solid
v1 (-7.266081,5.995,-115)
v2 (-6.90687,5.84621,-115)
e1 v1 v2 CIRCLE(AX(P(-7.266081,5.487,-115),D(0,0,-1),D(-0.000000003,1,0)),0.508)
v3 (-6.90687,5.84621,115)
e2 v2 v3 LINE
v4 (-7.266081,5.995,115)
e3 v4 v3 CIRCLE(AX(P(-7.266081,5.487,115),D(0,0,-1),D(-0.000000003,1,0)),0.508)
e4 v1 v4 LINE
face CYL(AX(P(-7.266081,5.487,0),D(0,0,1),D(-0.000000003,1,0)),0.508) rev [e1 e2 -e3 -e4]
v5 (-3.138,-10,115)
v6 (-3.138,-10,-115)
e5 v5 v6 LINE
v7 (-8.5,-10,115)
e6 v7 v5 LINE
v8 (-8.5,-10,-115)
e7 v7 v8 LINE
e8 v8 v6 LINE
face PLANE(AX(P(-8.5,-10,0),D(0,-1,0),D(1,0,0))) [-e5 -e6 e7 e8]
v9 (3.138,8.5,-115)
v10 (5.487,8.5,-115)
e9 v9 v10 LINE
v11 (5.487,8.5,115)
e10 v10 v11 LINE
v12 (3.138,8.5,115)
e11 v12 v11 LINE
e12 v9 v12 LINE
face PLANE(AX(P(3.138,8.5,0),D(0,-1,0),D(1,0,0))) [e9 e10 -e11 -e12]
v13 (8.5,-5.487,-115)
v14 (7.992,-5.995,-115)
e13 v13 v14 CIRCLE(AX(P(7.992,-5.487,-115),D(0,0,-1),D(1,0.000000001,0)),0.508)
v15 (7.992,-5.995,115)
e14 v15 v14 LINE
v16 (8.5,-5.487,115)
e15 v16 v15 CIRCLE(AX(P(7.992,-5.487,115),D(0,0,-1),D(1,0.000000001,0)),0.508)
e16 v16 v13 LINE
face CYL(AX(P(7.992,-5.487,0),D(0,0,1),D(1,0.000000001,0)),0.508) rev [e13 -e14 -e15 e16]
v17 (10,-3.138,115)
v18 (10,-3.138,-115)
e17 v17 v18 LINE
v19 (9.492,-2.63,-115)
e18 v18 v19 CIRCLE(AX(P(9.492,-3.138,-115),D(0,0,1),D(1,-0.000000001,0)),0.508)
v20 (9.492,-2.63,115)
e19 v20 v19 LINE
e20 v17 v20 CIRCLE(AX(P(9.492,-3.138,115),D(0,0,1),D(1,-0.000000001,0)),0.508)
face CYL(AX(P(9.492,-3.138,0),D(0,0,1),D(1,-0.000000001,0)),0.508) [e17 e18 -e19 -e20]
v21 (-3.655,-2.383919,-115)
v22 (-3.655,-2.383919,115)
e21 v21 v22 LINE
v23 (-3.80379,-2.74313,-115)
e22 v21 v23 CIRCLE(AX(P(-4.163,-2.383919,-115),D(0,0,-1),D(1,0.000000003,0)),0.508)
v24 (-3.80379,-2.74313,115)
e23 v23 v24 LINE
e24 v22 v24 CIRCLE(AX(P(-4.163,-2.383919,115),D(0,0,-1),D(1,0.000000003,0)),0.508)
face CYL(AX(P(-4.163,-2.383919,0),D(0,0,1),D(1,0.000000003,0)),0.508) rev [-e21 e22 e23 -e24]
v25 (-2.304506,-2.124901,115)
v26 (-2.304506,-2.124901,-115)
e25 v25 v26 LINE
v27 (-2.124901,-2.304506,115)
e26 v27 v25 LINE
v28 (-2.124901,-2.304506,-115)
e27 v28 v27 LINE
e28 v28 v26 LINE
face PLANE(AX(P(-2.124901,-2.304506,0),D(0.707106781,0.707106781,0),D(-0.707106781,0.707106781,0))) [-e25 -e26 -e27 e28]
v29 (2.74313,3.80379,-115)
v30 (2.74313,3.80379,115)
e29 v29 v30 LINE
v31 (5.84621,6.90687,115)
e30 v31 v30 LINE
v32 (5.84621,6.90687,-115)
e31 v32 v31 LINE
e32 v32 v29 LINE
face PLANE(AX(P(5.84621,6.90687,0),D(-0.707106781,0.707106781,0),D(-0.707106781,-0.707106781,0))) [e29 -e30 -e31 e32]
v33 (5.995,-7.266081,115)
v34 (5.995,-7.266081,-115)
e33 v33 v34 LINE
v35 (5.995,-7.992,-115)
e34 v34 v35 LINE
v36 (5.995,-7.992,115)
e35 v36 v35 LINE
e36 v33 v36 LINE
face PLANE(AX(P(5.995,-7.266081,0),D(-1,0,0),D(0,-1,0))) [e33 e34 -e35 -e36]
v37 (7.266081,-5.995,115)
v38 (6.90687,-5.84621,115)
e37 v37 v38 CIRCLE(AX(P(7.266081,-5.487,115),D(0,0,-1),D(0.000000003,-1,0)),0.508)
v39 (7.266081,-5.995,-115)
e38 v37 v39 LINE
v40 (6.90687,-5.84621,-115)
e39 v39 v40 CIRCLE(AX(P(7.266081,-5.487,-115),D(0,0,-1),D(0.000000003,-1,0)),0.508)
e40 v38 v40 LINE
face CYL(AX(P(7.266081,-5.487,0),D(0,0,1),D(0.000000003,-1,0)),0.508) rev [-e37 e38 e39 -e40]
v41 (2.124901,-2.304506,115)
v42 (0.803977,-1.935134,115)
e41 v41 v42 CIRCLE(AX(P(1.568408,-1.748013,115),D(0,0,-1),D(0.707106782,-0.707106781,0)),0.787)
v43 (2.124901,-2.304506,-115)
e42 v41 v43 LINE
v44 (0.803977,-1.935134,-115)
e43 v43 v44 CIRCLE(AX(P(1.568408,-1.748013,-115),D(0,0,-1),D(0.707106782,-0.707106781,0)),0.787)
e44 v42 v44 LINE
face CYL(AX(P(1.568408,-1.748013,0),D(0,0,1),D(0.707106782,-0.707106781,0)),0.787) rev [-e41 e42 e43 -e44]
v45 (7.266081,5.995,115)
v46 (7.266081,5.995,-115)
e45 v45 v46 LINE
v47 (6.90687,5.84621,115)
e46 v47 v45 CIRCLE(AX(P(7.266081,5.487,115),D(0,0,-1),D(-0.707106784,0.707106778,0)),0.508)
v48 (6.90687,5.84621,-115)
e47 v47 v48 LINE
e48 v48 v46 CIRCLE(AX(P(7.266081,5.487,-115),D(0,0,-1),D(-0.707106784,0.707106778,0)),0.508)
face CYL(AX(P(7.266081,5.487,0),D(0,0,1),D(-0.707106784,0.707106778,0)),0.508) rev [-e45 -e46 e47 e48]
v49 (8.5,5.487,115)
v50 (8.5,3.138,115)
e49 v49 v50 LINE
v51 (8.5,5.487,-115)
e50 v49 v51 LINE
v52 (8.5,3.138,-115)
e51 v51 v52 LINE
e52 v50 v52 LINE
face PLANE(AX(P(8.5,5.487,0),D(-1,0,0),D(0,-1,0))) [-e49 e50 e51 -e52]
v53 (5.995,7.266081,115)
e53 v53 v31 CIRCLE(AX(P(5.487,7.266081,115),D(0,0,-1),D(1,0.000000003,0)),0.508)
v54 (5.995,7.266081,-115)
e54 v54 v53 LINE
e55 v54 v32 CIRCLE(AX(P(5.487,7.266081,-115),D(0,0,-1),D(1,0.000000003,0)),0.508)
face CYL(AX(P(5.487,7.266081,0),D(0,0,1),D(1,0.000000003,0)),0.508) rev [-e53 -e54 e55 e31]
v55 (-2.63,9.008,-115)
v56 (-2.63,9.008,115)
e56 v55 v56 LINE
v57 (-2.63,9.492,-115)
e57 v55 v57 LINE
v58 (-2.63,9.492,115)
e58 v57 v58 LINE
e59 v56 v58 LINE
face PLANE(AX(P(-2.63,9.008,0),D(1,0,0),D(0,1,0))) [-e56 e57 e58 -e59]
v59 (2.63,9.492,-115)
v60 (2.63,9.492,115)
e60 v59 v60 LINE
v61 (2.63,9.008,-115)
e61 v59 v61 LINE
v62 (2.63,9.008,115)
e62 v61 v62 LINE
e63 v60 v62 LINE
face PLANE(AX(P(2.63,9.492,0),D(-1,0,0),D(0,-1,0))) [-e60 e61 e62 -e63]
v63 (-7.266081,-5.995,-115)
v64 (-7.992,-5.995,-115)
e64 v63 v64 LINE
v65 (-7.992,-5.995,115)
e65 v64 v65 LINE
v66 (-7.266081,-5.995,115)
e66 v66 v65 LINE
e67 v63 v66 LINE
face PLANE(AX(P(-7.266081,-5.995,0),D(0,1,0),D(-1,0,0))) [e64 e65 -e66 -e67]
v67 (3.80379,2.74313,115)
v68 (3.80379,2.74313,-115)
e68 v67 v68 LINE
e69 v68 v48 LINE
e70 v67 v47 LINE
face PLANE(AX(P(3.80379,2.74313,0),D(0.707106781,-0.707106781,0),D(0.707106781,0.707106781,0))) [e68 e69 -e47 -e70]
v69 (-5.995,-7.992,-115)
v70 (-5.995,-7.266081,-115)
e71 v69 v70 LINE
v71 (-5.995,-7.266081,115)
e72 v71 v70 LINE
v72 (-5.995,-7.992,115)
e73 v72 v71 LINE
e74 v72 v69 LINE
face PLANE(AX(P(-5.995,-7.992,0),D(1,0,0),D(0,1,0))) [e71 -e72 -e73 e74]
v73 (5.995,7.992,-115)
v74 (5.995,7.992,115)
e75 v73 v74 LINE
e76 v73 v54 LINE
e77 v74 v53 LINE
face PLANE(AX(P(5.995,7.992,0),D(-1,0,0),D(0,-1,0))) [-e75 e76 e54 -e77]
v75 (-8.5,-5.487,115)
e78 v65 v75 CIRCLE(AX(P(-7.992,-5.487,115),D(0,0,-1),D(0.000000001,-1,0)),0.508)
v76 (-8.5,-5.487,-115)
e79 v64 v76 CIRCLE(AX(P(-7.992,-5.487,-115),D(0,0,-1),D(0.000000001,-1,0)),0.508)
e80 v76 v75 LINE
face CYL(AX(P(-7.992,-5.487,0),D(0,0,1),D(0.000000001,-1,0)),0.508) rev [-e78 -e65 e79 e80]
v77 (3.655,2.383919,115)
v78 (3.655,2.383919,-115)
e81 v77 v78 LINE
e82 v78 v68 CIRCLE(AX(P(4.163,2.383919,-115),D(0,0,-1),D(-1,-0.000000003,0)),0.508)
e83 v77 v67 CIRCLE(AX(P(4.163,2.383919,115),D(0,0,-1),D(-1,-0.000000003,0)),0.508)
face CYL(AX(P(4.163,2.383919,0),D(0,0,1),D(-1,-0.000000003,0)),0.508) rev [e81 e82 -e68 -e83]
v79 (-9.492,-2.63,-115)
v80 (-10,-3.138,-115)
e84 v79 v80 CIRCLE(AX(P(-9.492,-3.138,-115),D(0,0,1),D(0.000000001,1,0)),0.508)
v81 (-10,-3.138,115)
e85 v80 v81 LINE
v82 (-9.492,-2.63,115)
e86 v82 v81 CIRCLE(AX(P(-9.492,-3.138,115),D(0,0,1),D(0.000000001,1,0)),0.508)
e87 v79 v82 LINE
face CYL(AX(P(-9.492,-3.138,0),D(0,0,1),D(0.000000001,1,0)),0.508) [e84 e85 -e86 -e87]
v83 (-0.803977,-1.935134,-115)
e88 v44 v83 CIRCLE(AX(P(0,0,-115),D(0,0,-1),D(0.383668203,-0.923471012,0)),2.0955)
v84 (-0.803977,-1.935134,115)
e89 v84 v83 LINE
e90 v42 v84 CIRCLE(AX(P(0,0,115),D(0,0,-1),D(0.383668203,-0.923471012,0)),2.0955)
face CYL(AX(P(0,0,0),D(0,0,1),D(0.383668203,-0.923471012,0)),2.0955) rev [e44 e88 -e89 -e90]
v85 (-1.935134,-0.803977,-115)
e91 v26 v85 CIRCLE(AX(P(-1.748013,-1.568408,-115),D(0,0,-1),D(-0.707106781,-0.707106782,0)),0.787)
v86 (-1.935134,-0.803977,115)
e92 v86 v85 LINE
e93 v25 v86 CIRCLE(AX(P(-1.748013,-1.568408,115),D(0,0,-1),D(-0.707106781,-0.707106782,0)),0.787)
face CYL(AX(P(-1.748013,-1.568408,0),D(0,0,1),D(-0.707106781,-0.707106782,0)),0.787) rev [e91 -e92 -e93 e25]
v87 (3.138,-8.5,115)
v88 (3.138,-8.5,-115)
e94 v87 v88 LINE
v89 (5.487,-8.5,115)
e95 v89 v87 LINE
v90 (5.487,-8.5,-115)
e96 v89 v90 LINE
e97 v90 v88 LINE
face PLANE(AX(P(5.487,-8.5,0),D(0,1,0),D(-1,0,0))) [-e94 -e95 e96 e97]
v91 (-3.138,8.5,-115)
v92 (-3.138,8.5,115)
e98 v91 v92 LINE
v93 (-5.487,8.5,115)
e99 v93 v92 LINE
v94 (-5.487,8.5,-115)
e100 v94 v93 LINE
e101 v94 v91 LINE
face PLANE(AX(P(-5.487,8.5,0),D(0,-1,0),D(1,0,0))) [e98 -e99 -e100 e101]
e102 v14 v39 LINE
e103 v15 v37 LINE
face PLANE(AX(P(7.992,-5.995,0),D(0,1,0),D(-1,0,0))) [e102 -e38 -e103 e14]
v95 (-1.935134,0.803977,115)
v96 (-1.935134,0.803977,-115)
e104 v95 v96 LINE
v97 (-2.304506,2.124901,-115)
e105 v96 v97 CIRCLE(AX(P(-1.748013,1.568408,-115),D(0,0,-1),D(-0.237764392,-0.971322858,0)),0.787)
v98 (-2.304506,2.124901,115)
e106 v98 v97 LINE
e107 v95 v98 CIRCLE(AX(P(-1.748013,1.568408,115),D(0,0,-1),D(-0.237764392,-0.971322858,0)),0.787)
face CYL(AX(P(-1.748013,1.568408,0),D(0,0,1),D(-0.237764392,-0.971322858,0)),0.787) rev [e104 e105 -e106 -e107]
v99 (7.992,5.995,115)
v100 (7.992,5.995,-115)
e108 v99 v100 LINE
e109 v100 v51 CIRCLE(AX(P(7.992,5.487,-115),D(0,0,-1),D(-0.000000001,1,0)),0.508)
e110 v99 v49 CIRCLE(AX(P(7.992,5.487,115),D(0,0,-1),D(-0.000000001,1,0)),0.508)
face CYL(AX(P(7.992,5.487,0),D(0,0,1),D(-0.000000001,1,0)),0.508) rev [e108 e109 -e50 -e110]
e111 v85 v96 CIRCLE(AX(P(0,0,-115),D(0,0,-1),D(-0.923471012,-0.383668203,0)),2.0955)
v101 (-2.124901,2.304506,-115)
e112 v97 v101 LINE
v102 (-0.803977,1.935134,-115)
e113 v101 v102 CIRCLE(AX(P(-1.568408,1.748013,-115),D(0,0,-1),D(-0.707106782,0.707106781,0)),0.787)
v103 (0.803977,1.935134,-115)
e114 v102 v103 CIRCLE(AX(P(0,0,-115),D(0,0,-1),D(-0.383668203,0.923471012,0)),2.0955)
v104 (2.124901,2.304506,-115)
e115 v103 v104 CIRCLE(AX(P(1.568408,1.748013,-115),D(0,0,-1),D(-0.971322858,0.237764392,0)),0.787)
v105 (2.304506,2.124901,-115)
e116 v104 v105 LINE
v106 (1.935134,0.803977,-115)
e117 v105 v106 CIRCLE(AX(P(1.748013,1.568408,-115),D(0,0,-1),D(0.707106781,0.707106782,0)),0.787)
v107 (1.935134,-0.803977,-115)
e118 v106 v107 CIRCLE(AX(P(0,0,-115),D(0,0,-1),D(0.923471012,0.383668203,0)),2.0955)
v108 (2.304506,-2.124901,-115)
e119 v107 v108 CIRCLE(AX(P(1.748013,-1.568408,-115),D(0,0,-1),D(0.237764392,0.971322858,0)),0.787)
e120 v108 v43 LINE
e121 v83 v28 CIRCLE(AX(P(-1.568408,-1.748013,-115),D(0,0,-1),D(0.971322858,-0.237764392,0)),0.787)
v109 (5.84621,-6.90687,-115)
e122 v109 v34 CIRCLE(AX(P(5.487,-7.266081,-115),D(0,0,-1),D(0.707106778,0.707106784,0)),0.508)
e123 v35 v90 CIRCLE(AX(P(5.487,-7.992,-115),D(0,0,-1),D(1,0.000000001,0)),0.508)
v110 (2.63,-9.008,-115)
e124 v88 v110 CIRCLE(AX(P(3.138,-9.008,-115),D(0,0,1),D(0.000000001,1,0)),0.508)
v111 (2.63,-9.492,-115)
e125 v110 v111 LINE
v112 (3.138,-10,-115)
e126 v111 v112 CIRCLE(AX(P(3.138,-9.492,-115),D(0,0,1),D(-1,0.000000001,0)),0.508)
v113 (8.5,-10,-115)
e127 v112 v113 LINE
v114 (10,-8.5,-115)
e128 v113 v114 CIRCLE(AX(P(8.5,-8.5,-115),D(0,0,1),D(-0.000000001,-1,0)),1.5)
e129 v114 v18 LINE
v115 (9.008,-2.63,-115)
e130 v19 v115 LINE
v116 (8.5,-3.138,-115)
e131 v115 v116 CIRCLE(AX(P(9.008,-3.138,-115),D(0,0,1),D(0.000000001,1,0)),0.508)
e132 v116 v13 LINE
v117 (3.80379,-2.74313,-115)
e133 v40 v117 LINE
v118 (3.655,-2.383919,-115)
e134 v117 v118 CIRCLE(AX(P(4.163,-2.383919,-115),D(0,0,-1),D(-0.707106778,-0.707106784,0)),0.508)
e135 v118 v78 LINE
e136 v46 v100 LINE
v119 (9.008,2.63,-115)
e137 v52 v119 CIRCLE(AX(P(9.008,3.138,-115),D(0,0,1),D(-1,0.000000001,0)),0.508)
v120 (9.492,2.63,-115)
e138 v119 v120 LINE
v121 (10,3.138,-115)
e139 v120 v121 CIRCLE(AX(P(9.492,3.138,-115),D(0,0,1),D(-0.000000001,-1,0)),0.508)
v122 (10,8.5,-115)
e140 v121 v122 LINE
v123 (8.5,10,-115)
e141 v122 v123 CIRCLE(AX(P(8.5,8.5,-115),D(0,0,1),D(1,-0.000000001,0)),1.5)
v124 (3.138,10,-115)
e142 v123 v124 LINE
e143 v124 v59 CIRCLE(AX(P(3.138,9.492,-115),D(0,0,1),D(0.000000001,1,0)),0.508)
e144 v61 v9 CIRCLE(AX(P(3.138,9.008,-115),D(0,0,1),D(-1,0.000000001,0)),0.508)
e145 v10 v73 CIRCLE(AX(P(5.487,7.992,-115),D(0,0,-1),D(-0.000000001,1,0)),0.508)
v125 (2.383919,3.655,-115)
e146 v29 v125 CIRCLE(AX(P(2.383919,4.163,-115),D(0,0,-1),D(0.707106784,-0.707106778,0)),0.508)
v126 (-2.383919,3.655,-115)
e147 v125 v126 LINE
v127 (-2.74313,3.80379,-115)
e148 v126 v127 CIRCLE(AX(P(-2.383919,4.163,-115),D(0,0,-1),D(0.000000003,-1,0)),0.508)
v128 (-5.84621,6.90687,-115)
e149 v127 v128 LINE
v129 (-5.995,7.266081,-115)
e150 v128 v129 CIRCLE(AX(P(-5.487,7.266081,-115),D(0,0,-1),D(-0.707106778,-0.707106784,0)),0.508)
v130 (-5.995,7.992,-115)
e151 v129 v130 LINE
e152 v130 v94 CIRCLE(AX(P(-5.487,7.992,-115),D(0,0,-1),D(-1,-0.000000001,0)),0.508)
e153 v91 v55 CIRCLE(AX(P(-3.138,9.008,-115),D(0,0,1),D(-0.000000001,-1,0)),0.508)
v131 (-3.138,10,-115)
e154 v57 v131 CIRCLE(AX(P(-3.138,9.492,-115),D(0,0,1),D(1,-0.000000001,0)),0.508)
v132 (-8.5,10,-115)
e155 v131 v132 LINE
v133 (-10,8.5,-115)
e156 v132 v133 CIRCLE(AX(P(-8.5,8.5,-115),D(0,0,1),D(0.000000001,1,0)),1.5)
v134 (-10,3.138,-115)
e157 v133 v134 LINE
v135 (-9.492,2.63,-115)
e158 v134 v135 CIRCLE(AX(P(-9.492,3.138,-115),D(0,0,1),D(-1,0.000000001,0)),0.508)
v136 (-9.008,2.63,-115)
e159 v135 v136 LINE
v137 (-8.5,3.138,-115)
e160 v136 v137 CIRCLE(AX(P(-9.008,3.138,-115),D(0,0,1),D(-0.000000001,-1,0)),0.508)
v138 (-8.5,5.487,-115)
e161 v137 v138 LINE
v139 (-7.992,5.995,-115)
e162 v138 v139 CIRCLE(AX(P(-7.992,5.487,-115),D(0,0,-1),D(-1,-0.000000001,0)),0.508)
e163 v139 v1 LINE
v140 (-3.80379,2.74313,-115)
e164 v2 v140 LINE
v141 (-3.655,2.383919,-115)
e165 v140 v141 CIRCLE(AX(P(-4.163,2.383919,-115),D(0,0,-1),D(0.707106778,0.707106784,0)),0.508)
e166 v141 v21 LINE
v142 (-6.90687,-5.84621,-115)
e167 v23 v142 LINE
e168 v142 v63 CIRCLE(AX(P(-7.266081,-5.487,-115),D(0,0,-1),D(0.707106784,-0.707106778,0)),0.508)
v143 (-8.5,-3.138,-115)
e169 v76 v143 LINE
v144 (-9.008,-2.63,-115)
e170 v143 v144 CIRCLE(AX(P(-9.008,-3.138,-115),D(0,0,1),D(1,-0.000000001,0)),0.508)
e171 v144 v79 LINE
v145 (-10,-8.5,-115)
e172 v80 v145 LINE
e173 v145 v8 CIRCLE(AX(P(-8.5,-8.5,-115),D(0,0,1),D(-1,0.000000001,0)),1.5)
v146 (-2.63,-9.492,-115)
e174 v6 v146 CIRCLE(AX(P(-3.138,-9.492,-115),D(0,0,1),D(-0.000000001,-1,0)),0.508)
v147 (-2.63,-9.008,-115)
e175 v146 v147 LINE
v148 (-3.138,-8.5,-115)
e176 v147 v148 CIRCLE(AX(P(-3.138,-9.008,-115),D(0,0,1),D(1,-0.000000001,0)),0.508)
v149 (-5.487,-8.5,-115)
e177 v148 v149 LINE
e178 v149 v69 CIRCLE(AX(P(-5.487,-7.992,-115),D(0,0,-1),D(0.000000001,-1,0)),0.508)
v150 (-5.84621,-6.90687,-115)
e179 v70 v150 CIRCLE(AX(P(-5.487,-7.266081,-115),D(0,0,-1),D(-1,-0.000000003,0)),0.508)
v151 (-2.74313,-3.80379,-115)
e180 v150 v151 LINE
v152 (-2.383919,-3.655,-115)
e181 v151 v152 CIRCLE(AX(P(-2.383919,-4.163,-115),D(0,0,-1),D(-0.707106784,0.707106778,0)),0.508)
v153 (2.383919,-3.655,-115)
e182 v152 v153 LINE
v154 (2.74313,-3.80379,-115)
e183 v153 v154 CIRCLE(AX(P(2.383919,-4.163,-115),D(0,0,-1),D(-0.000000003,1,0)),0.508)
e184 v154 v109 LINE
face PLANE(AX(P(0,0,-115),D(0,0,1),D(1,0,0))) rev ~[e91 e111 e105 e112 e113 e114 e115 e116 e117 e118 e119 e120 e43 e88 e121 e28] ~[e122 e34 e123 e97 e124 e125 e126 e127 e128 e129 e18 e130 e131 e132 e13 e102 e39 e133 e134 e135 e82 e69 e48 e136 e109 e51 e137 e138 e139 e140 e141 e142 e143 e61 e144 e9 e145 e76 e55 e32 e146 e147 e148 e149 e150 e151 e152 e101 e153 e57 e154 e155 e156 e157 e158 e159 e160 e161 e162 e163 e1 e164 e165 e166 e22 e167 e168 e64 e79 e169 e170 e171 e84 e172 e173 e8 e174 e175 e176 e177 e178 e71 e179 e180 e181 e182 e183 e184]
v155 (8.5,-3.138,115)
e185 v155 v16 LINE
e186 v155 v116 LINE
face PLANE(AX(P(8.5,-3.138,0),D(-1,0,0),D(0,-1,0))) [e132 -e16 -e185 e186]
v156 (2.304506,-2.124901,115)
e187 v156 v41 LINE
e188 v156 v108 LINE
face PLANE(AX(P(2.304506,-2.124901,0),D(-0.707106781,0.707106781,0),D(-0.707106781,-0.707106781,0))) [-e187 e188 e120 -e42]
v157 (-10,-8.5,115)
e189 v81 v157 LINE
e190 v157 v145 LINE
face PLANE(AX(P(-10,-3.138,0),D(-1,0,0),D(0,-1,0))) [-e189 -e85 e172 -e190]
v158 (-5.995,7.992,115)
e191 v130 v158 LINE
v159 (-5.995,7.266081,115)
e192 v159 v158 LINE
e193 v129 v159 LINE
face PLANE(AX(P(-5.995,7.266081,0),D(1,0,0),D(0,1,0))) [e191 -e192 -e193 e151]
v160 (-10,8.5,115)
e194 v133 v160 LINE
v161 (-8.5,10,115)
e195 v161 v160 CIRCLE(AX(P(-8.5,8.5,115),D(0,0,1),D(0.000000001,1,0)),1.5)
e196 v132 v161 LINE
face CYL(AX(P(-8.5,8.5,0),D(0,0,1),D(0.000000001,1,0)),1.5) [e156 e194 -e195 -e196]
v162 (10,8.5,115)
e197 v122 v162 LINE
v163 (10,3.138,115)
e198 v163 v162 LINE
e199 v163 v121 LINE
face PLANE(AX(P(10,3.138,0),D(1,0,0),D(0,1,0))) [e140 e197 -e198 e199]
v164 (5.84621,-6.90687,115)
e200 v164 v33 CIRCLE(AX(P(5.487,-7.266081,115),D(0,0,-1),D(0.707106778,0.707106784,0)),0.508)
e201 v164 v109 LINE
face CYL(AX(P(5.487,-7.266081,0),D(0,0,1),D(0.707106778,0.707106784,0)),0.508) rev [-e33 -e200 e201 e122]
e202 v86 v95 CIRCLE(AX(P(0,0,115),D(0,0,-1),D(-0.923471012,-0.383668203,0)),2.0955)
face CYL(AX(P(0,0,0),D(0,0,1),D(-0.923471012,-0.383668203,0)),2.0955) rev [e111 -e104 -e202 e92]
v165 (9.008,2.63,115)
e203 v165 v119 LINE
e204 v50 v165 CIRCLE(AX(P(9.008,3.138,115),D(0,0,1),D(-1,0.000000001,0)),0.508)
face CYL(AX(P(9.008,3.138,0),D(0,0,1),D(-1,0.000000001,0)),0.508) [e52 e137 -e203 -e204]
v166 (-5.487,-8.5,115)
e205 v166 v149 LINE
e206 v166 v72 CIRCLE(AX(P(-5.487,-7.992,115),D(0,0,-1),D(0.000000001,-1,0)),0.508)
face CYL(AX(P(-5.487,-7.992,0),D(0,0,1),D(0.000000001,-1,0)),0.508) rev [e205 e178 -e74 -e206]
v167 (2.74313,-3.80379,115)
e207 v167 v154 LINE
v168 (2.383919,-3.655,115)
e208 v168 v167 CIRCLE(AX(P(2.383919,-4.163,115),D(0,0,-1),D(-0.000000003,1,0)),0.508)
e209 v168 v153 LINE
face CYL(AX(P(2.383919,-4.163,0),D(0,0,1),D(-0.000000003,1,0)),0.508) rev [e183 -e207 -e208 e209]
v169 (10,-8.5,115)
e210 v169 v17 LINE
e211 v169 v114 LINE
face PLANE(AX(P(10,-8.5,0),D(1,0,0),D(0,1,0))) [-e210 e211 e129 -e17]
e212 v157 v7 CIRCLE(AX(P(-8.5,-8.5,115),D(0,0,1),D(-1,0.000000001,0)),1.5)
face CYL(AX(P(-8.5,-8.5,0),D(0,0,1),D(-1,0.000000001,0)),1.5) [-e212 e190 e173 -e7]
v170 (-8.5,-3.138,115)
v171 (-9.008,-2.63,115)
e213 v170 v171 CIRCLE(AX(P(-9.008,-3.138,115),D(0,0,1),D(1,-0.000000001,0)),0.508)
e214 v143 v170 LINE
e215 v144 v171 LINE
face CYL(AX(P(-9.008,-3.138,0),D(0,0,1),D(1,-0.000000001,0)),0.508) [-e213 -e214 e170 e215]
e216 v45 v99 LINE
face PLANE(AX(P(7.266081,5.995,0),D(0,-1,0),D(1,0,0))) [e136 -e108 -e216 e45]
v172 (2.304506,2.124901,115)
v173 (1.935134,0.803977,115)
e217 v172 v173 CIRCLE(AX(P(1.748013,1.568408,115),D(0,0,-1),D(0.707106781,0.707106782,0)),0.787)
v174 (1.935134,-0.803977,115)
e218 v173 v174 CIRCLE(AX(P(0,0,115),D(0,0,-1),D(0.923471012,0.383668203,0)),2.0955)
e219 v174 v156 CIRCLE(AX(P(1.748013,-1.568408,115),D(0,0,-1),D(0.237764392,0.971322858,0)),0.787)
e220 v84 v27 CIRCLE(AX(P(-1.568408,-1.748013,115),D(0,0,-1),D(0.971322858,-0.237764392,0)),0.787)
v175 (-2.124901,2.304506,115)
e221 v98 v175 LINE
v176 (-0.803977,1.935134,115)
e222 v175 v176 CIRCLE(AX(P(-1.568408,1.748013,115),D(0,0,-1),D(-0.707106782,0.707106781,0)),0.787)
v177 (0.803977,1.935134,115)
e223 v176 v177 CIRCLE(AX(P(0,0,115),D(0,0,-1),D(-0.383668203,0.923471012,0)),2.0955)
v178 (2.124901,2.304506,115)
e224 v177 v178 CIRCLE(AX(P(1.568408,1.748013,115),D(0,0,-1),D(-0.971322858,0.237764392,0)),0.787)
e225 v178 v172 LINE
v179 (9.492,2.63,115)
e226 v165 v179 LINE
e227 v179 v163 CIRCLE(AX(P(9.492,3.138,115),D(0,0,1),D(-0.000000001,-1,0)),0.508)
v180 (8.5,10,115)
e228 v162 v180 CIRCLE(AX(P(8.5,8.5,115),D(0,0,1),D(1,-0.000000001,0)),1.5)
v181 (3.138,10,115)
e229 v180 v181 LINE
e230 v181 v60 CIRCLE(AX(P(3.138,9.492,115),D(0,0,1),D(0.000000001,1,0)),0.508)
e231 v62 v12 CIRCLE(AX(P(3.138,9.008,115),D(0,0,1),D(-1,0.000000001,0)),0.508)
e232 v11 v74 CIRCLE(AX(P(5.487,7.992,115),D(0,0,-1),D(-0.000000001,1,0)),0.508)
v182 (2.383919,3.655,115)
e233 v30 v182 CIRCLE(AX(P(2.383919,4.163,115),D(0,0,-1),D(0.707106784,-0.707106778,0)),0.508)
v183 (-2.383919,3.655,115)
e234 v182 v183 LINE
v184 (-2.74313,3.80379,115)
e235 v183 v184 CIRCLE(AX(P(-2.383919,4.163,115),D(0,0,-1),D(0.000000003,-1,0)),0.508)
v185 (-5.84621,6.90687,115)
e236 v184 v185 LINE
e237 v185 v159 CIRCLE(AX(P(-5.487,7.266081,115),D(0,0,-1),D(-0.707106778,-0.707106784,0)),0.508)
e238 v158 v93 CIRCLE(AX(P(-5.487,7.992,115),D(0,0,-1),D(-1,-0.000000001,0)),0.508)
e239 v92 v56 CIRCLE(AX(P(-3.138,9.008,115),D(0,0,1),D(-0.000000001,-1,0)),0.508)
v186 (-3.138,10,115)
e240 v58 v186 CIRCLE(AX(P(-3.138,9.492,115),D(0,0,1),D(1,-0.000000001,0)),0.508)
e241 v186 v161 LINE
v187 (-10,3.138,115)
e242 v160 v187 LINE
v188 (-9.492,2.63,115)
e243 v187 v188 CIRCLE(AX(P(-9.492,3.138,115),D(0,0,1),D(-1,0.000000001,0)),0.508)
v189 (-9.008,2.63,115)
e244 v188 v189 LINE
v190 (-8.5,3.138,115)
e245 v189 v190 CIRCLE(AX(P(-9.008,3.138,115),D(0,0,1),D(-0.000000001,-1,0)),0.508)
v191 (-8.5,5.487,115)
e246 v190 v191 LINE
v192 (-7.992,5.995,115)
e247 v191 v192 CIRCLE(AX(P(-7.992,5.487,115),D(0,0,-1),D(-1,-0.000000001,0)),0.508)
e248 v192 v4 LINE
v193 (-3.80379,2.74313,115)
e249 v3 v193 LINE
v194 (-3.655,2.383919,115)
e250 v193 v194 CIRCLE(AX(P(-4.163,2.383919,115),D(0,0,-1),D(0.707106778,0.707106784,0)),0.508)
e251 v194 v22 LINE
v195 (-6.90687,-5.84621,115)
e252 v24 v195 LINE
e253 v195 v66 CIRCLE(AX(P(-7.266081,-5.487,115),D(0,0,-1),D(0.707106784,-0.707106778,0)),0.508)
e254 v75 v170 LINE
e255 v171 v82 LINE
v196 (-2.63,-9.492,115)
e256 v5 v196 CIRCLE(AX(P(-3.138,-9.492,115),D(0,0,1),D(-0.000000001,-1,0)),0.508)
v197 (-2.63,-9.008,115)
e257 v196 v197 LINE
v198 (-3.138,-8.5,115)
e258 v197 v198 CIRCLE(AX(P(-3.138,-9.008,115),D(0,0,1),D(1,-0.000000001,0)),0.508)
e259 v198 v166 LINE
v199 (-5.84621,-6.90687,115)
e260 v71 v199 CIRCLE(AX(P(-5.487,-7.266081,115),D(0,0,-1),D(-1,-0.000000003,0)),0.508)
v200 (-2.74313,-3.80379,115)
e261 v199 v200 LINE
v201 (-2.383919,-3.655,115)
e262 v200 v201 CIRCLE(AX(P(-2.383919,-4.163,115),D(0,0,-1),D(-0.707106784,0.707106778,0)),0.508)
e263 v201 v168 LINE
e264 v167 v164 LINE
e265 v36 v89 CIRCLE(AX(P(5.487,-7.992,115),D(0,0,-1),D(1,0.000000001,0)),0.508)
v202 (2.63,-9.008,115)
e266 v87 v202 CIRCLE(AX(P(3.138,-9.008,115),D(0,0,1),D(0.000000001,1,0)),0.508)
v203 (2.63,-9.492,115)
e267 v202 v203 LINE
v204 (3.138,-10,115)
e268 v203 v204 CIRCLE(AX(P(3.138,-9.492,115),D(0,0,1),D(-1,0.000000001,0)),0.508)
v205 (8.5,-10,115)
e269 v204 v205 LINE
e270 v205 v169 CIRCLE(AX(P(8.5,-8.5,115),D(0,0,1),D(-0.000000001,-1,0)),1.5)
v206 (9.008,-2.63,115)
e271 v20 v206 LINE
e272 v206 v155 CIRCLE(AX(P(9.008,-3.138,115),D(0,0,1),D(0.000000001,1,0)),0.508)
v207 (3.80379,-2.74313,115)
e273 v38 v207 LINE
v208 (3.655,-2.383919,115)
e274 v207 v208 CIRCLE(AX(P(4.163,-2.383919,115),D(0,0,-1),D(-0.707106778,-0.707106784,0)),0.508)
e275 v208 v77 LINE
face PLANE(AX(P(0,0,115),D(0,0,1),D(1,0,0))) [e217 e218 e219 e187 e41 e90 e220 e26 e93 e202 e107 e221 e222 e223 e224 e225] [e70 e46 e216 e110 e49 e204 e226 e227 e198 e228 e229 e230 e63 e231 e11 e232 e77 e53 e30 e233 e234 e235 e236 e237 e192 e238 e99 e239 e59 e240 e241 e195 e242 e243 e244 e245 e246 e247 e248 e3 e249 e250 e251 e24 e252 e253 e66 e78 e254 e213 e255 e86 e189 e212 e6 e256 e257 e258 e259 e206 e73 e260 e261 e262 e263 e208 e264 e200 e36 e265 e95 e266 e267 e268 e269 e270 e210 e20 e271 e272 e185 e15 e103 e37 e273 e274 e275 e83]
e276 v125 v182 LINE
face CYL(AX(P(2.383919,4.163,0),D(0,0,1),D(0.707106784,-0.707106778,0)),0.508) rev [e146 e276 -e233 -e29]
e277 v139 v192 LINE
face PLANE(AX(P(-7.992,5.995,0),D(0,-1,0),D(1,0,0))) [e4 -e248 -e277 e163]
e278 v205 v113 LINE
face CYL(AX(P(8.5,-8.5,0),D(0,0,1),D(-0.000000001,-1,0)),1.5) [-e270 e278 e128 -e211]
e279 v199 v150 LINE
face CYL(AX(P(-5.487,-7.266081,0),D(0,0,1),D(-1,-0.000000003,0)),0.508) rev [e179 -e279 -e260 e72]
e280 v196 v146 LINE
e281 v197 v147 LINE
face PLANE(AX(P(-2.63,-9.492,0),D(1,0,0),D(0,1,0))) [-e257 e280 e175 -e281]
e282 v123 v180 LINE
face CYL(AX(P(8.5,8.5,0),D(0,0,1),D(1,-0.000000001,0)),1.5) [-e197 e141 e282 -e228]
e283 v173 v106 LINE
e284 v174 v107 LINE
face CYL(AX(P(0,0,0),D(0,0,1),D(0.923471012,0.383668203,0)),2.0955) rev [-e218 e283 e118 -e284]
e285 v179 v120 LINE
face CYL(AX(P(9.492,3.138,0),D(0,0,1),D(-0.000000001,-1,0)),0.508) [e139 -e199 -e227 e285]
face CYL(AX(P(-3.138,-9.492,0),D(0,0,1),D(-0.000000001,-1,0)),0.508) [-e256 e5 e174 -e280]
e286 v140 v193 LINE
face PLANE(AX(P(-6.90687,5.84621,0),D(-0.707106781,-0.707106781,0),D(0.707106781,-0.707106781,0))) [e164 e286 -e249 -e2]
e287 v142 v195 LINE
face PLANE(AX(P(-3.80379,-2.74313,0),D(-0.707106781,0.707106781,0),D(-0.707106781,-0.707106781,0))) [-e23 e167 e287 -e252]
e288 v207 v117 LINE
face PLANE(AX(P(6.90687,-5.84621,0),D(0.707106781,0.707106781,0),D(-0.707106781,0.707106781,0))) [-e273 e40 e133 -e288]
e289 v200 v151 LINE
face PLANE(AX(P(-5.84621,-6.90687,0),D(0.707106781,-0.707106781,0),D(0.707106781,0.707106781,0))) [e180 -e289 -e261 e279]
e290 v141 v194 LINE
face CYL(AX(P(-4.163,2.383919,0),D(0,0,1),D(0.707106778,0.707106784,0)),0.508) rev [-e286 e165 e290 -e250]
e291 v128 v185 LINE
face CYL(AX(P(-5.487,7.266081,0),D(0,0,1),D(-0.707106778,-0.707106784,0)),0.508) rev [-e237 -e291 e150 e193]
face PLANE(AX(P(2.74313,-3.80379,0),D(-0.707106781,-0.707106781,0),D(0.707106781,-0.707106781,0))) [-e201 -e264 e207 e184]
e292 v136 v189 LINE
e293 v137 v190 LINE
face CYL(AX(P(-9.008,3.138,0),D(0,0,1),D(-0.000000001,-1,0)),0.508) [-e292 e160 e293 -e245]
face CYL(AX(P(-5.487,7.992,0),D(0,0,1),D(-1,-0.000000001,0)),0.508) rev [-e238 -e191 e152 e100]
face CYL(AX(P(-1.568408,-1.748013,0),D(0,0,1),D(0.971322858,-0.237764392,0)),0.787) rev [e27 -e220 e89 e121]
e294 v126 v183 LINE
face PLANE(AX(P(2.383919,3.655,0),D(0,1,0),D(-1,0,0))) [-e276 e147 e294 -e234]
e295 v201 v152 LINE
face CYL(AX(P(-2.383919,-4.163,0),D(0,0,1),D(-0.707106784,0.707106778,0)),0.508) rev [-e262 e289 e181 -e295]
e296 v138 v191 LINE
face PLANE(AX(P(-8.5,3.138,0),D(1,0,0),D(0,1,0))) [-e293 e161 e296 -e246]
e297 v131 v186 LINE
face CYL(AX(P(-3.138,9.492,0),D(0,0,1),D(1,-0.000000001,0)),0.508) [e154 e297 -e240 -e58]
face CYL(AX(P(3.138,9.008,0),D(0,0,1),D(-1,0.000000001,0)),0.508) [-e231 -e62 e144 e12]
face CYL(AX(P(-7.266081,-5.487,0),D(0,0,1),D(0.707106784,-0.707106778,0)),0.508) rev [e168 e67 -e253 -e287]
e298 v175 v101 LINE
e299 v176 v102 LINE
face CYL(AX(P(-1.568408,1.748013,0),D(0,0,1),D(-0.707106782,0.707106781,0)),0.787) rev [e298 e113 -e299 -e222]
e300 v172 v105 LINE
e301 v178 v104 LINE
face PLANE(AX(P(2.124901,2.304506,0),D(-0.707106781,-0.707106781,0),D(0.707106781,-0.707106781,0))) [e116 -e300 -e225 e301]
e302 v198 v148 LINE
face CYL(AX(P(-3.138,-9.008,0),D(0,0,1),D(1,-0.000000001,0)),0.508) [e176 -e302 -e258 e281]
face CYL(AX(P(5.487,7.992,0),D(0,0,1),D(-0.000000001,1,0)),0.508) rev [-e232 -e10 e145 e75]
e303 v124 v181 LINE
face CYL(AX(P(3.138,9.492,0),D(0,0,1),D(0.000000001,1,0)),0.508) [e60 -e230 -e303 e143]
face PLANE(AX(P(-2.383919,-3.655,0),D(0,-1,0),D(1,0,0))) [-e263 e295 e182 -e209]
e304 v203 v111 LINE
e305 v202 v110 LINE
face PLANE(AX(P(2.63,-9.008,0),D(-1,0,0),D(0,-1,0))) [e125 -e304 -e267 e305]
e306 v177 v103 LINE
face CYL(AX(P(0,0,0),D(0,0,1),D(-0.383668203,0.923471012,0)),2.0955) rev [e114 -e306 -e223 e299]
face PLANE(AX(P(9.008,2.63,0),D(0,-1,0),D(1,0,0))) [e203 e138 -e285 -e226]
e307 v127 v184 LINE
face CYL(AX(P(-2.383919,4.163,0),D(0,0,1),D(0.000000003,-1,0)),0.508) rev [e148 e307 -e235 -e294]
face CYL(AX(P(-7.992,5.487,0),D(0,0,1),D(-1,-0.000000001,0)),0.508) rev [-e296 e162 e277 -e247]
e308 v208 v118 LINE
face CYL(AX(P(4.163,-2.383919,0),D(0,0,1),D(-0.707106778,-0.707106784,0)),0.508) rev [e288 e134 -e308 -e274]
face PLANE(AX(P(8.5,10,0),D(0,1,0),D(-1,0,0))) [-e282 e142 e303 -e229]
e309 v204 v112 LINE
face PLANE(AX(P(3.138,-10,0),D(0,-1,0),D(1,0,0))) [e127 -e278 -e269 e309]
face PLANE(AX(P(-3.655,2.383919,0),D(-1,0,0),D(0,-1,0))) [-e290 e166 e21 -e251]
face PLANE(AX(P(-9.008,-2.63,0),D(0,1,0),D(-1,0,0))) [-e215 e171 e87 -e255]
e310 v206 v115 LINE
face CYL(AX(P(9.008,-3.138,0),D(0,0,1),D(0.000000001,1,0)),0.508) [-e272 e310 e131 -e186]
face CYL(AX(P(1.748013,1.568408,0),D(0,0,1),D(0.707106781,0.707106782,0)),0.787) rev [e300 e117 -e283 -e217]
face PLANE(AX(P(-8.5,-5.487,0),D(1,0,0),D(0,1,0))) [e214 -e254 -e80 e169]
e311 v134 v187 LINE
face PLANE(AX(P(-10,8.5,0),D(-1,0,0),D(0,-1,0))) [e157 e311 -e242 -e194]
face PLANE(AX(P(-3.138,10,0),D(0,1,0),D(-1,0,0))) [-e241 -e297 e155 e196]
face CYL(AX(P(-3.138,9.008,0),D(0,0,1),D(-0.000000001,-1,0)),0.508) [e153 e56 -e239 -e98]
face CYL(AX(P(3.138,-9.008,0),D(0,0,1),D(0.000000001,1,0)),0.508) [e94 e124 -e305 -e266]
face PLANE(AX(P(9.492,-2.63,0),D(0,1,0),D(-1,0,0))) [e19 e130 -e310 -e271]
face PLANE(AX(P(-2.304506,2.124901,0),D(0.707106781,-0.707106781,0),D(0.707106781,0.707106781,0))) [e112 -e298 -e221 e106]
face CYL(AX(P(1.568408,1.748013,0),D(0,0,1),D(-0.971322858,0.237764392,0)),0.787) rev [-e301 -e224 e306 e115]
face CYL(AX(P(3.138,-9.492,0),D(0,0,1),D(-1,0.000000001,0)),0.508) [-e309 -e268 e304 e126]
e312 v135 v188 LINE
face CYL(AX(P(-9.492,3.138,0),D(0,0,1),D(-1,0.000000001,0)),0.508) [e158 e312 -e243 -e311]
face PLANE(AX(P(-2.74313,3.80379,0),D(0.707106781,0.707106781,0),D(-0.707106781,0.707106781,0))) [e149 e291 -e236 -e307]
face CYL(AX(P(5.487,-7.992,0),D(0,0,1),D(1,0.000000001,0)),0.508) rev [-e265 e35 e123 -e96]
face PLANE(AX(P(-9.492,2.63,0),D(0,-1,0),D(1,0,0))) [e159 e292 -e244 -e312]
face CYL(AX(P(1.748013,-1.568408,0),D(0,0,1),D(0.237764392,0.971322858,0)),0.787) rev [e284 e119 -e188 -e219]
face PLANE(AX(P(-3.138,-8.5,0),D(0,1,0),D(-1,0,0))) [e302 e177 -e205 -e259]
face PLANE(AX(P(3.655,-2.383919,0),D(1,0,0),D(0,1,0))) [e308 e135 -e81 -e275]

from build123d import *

# Parameters (mm, degrees)
BOSS_EXTRUDE1_DEPTH = 115


with BuildPart() as part:
    # Sketch1 → Boss-Extrude1 (new, symmetric)
    with BuildSketch(Plane.XY):
        with BuildLine():
            Line((10, 3.138), (10, 8.5))
            ThreePointArc((10, 8.5), (9.560660172, 9.560660172), (8.5, 10))
            Line((8.5, 10), (3.138, 10))
            ThreePointArc((3.138, 10), (2.778789755, 9.851210245), (2.63, 9.492))
            Line((2.63, 9.492), (2.63, 9.008))
            ThreePointArc((2.63, 9.008), (2.778789755, 8.648789755), (3.138, 8.5))
            Line((3.138, 8.5), (5.487, 8.5))
            ThreePointArc((5.487, 8.5), (5.846210245, 8.351210245), (5.995, 7.992))
            Line((5.995, 7.992), (5.995, 7.266080661))
            ThreePointArc((5.995, 7.266080661), (5.956330803, 7.071677478), (5.846210245, 6.906870417))
            Line((5.846210245, 6.906870417), (2.743129583, 3.803789755))
            ThreePointArc((2.743129583, 3.803789755), (2.578322522, 3.693669197), (2.383919339, 3.655))
            Line((2.383919339, 3.655), (-2.383919339, 3.655))
            ThreePointArc((-2.383919339, 3.655), (-2.578322522, 3.693669197), (-2.743129583, 3.803789755))
            Line((-2.743129583, 3.803789755), (-5.846210245, 6.906870417))
            ThreePointArc((-5.846210245, 6.906870417), (-5.956330803, 7.071677478), (-5.995, 7.266080661))
            Line((-5.995, 7.266080661), (-5.995, 7.992))
            ThreePointArc((-5.995, 7.992), (-5.846210245, 8.351210245), (-5.487, 8.5))
            Line((-5.487, 8.5), (-3.138, 8.5))
            ThreePointArc((-3.138, 8.5), (-2.778789755, 8.648789755), (-2.63, 9.008))
            Line((-2.63, 9.008), (-2.63, 9.492))
            ThreePointArc((-2.63, 9.492), (-2.778789755, 9.851210245), (-3.138, 10))
            Line((-3.138, 10), (-8.5, 10))
            ThreePointArc((-8.5, 10), (-9.560660172, 9.560660172), (-10, 8.5))
            Line((-10, 8.5), (-10, 3.138))
            ThreePointArc((-10, 3.138), (-9.851210245, 2.778789755), (-9.492, 2.63))
            Line((-9.492, 2.63), (-9.008, 2.63))
            ThreePointArc((-9.008, 2.63), (-8.648789755, 2.778789755), (-8.5, 3.138))
            Line((-8.5, 3.138), (-8.5, 5.487))
            ThreePointArc((-8.5, 5.487), (-8.351210245, 5.846210245), (-7.992, 5.995))
            Line((-7.992, 5.995), (-7.266080661, 5.995))
            ThreePointArc((-7.266080661, 5.995), (-7.071677478, 5.956330803), (-6.906870417, 5.846210245))
            Line((-6.906870417, 5.846210245), (-3.803789755, 2.743129583))
            ThreePointArc((-3.803789755, 2.743129583), (-3.693669197, 2.578322522), (-3.655, 2.383919339))
            Line((-3.655, 2.383919339), (-3.655, -2.383919339))
            ThreePointArc((-3.655, -2.383919339), (-3.693669197, -2.578322522), (-3.803789755, -2.743129583))
            Line((-3.803789755, -2.743129583), (-6.906870417, -5.846210245))
            ThreePointArc((-6.906870417, -5.846210245), (-7.071677478, -5.956330803), (-7.266080661, -5.995))
            Line((-7.266080661, -5.995), (-7.992, -5.995))
            ThreePointArc((-7.992, -5.995), (-8.351210245, -5.846210245), (-8.5, -5.487))
            Line((-8.5, -5.487), (-8.5, -3.138))
            ThreePointArc((-8.5, -3.138), (-8.648789755, -2.778789755), (-9.008, -2.63))
            Line((-9.008, -2.63), (-9.492, -2.63))
            ThreePointArc((-9.492, -2.63), (-9.851210245, -2.778789755), (-10, -3.138))
            Line((-10, -3.138), (-10, -8.5))
            ThreePointArc((-10, -8.5), (-9.560660172, -9.560660172), (-8.5, -10))
            Line((-8.5, -10), (-3.138, -10))
            ThreePointArc((-3.138, -10), (-2.778789755, -9.851210245), (-2.63, -9.492))
            Line((-2.63, -9.492), (-2.63, -9.008))
            ThreePointArc((-2.63, -9.008), (-2.778789755, -8.648789755), (-3.138, -8.5))
            Line((-3.138, -8.5), (-5.487, -8.5))
            ThreePointArc((-5.487, -8.5), (-5.846210245, -8.351210245), (-5.995, -7.992))
            Line((-5.995, -7.992), (-5.995, -7.266080661))
            ThreePointArc((-5.995, -7.266080661), (-5.956330803, -7.071677478), (-5.846210245, -6.906870417))
            Line((-5.846210245, -6.906870417), (-2.743129583, -3.803789755))
            ThreePointArc((-2.743129583, -3.803789755), (-2.578322522, -3.693669197), (-2.383919339, -3.655))
            Line((-2.383919339, -3.655), (2.383919339, -3.655))
            ThreePointArc((2.383919339, -3.655), (2.578322522, -3.693669197), (2.743129583, -3.803789755))
            Line((2.743129583, -3.803789755), (5.846210245, -6.906870417))
            ThreePointArc((5.846210245, -6.906870417), (5.956330803, -7.071677478), (5.995, -7.266080661))
            Line((5.995, -7.266080661), (5.995, -7.992))
            ThreePointArc((5.995, -7.992), (5.846210245, -8.351210245), (5.487, -8.5))
            Line((5.487, -8.5), (3.138, -8.5))
            ThreePointArc((3.138, -8.5), (2.778789755, -8.648789755), (2.63, -9.008))
            Line((2.63, -9.008), (2.63, -9.492))
            ThreePointArc((2.63, -9.492), (2.778789755, -9.851210245), (3.138, -10))
            Line((3.138, -10), (8.5, -10))
            ThreePointArc((8.5, -10), (9.560660172, -9.560660172), (10, -8.5))
            Line((10, -8.5), (10, -3.138))
            ThreePointArc((10, -3.138), (9.851210245, -2.778789755), (9.492, -2.63))
            Line((9.492, -2.63), (9.008, -2.63))
            ThreePointArc((9.008, -2.63), (8.648789755, -2.778789755), (8.5, -3.138))
            Line((8.5, -3.138), (8.5, -5.487))
            ThreePointArc((8.5, -5.487), (8.351210245, -5.846210245), (7.992, -5.995))
            Line((7.992, -5.995), (7.266080661, -5.995))
            ThreePointArc((7.266080661, -5.995), (7.071677478, -5.956330803), (6.906870417, -5.846210245))
            Line((6.906870417, -5.846210245), (3.803789755, -2.743129583))
            ThreePointArc((3.803789755, -2.743129583), (3.693669197, -2.578322522), (3.655, -2.383919339))
            Line((3.655, -2.383919339), (3.655, 2.383919339))
            ThreePointArc((3.655, 2.383919339), (3.693669197, 2.578322522), (3.803789755, 2.743129583))
            Line((3.803789755, 2.743129583), (6.906870417, 5.846210245))
            ThreePointArc((6.906870417, 5.846210245), (7.071677478, 5.956330803), (7.266080661, 5.995))
            Line((7.266080661, 5.995), (7.992, 5.995))
            ThreePointArc((7.992, 5.995), (8.351210245, 5.846210245), (8.5, 5.487))
            Line((8.5, 5.487), (8.5, 3.138))
            ThreePointArc((8.5, 3.138), (8.648789755, 2.778789755), (9.008, 2.63))
            Line((9.008, 2.63), (9.492, 2.63))
            ThreePointArc((9.492, 2.63), (9.851210245, 2.778789755), (10, 3.138))
        make_face()
        with BuildLine():
            Line((-2.124900844, -2.304505966), (-2.304505966, -2.124900844))
            ThreePointArc((-2.304505966, -2.124900844), (-2.505938017, -1.356467811), (-1.935133506, -0.803976718))
            ThreePointArc((-1.935133506, -0.803976718), (-2.0955, 0), (-1.935133506, 0.803976718))
            ThreePointArc((-1.935133506, 0.803976718), (-2.505938017, 1.356467811), (-2.304505966, 2.124900844))
            Line((-2.304505966, 2.124900844), (-2.124900844, 2.304505966))
            ThreePointArc((-2.124900844, 2.304505966), (-1.356467811, 2.505938017), (-0.803976718, 1.935133506))
            ThreePointArc((-0.803976718, 1.935133506), (0, 2.0955), (0.803976718, 1.935133506))
            ThreePointArc((0.803976718, 1.935133506), (1.356467811, 2.505938017), (2.124900844, 2.304505966))
            Line((2.124900844, 2.304505966), (2.304505966, 2.124900844))
            ThreePointArc((2.304505966, 2.124900844), (2.505938017, 1.356467811), (1.935133506, 0.803976718))
            ThreePointArc((1.935133506, 0.803976718), (2.0955, 0), (1.935133506, -0.803976718))
            ThreePointArc((1.935133506, -0.803976718), (2.505938017, -1.356467811), (2.304505966, -2.124900844))
            Line((2.304505966, -2.124900844), (2.124900844, -2.304505966))
            ThreePointArc((2.124900844, -2.304505966), (1.356467811, -2.505938017), (0.803976718, -1.935133506))
            ThreePointArc((0.803976718, -1.935133506), (0, -2.0955), (-0.803976718, -1.935133506))
            ThreePointArc((-0.803976718, -1.935133506), (-1.356467811, -2.505938017), (-2.124900844, -2.304505966))
        make_face(mode=Mode.SUBTRACT)
    extrude(amount=BOSS_EXTRUDE1_DEPTH, both=True)


solid = part.part
